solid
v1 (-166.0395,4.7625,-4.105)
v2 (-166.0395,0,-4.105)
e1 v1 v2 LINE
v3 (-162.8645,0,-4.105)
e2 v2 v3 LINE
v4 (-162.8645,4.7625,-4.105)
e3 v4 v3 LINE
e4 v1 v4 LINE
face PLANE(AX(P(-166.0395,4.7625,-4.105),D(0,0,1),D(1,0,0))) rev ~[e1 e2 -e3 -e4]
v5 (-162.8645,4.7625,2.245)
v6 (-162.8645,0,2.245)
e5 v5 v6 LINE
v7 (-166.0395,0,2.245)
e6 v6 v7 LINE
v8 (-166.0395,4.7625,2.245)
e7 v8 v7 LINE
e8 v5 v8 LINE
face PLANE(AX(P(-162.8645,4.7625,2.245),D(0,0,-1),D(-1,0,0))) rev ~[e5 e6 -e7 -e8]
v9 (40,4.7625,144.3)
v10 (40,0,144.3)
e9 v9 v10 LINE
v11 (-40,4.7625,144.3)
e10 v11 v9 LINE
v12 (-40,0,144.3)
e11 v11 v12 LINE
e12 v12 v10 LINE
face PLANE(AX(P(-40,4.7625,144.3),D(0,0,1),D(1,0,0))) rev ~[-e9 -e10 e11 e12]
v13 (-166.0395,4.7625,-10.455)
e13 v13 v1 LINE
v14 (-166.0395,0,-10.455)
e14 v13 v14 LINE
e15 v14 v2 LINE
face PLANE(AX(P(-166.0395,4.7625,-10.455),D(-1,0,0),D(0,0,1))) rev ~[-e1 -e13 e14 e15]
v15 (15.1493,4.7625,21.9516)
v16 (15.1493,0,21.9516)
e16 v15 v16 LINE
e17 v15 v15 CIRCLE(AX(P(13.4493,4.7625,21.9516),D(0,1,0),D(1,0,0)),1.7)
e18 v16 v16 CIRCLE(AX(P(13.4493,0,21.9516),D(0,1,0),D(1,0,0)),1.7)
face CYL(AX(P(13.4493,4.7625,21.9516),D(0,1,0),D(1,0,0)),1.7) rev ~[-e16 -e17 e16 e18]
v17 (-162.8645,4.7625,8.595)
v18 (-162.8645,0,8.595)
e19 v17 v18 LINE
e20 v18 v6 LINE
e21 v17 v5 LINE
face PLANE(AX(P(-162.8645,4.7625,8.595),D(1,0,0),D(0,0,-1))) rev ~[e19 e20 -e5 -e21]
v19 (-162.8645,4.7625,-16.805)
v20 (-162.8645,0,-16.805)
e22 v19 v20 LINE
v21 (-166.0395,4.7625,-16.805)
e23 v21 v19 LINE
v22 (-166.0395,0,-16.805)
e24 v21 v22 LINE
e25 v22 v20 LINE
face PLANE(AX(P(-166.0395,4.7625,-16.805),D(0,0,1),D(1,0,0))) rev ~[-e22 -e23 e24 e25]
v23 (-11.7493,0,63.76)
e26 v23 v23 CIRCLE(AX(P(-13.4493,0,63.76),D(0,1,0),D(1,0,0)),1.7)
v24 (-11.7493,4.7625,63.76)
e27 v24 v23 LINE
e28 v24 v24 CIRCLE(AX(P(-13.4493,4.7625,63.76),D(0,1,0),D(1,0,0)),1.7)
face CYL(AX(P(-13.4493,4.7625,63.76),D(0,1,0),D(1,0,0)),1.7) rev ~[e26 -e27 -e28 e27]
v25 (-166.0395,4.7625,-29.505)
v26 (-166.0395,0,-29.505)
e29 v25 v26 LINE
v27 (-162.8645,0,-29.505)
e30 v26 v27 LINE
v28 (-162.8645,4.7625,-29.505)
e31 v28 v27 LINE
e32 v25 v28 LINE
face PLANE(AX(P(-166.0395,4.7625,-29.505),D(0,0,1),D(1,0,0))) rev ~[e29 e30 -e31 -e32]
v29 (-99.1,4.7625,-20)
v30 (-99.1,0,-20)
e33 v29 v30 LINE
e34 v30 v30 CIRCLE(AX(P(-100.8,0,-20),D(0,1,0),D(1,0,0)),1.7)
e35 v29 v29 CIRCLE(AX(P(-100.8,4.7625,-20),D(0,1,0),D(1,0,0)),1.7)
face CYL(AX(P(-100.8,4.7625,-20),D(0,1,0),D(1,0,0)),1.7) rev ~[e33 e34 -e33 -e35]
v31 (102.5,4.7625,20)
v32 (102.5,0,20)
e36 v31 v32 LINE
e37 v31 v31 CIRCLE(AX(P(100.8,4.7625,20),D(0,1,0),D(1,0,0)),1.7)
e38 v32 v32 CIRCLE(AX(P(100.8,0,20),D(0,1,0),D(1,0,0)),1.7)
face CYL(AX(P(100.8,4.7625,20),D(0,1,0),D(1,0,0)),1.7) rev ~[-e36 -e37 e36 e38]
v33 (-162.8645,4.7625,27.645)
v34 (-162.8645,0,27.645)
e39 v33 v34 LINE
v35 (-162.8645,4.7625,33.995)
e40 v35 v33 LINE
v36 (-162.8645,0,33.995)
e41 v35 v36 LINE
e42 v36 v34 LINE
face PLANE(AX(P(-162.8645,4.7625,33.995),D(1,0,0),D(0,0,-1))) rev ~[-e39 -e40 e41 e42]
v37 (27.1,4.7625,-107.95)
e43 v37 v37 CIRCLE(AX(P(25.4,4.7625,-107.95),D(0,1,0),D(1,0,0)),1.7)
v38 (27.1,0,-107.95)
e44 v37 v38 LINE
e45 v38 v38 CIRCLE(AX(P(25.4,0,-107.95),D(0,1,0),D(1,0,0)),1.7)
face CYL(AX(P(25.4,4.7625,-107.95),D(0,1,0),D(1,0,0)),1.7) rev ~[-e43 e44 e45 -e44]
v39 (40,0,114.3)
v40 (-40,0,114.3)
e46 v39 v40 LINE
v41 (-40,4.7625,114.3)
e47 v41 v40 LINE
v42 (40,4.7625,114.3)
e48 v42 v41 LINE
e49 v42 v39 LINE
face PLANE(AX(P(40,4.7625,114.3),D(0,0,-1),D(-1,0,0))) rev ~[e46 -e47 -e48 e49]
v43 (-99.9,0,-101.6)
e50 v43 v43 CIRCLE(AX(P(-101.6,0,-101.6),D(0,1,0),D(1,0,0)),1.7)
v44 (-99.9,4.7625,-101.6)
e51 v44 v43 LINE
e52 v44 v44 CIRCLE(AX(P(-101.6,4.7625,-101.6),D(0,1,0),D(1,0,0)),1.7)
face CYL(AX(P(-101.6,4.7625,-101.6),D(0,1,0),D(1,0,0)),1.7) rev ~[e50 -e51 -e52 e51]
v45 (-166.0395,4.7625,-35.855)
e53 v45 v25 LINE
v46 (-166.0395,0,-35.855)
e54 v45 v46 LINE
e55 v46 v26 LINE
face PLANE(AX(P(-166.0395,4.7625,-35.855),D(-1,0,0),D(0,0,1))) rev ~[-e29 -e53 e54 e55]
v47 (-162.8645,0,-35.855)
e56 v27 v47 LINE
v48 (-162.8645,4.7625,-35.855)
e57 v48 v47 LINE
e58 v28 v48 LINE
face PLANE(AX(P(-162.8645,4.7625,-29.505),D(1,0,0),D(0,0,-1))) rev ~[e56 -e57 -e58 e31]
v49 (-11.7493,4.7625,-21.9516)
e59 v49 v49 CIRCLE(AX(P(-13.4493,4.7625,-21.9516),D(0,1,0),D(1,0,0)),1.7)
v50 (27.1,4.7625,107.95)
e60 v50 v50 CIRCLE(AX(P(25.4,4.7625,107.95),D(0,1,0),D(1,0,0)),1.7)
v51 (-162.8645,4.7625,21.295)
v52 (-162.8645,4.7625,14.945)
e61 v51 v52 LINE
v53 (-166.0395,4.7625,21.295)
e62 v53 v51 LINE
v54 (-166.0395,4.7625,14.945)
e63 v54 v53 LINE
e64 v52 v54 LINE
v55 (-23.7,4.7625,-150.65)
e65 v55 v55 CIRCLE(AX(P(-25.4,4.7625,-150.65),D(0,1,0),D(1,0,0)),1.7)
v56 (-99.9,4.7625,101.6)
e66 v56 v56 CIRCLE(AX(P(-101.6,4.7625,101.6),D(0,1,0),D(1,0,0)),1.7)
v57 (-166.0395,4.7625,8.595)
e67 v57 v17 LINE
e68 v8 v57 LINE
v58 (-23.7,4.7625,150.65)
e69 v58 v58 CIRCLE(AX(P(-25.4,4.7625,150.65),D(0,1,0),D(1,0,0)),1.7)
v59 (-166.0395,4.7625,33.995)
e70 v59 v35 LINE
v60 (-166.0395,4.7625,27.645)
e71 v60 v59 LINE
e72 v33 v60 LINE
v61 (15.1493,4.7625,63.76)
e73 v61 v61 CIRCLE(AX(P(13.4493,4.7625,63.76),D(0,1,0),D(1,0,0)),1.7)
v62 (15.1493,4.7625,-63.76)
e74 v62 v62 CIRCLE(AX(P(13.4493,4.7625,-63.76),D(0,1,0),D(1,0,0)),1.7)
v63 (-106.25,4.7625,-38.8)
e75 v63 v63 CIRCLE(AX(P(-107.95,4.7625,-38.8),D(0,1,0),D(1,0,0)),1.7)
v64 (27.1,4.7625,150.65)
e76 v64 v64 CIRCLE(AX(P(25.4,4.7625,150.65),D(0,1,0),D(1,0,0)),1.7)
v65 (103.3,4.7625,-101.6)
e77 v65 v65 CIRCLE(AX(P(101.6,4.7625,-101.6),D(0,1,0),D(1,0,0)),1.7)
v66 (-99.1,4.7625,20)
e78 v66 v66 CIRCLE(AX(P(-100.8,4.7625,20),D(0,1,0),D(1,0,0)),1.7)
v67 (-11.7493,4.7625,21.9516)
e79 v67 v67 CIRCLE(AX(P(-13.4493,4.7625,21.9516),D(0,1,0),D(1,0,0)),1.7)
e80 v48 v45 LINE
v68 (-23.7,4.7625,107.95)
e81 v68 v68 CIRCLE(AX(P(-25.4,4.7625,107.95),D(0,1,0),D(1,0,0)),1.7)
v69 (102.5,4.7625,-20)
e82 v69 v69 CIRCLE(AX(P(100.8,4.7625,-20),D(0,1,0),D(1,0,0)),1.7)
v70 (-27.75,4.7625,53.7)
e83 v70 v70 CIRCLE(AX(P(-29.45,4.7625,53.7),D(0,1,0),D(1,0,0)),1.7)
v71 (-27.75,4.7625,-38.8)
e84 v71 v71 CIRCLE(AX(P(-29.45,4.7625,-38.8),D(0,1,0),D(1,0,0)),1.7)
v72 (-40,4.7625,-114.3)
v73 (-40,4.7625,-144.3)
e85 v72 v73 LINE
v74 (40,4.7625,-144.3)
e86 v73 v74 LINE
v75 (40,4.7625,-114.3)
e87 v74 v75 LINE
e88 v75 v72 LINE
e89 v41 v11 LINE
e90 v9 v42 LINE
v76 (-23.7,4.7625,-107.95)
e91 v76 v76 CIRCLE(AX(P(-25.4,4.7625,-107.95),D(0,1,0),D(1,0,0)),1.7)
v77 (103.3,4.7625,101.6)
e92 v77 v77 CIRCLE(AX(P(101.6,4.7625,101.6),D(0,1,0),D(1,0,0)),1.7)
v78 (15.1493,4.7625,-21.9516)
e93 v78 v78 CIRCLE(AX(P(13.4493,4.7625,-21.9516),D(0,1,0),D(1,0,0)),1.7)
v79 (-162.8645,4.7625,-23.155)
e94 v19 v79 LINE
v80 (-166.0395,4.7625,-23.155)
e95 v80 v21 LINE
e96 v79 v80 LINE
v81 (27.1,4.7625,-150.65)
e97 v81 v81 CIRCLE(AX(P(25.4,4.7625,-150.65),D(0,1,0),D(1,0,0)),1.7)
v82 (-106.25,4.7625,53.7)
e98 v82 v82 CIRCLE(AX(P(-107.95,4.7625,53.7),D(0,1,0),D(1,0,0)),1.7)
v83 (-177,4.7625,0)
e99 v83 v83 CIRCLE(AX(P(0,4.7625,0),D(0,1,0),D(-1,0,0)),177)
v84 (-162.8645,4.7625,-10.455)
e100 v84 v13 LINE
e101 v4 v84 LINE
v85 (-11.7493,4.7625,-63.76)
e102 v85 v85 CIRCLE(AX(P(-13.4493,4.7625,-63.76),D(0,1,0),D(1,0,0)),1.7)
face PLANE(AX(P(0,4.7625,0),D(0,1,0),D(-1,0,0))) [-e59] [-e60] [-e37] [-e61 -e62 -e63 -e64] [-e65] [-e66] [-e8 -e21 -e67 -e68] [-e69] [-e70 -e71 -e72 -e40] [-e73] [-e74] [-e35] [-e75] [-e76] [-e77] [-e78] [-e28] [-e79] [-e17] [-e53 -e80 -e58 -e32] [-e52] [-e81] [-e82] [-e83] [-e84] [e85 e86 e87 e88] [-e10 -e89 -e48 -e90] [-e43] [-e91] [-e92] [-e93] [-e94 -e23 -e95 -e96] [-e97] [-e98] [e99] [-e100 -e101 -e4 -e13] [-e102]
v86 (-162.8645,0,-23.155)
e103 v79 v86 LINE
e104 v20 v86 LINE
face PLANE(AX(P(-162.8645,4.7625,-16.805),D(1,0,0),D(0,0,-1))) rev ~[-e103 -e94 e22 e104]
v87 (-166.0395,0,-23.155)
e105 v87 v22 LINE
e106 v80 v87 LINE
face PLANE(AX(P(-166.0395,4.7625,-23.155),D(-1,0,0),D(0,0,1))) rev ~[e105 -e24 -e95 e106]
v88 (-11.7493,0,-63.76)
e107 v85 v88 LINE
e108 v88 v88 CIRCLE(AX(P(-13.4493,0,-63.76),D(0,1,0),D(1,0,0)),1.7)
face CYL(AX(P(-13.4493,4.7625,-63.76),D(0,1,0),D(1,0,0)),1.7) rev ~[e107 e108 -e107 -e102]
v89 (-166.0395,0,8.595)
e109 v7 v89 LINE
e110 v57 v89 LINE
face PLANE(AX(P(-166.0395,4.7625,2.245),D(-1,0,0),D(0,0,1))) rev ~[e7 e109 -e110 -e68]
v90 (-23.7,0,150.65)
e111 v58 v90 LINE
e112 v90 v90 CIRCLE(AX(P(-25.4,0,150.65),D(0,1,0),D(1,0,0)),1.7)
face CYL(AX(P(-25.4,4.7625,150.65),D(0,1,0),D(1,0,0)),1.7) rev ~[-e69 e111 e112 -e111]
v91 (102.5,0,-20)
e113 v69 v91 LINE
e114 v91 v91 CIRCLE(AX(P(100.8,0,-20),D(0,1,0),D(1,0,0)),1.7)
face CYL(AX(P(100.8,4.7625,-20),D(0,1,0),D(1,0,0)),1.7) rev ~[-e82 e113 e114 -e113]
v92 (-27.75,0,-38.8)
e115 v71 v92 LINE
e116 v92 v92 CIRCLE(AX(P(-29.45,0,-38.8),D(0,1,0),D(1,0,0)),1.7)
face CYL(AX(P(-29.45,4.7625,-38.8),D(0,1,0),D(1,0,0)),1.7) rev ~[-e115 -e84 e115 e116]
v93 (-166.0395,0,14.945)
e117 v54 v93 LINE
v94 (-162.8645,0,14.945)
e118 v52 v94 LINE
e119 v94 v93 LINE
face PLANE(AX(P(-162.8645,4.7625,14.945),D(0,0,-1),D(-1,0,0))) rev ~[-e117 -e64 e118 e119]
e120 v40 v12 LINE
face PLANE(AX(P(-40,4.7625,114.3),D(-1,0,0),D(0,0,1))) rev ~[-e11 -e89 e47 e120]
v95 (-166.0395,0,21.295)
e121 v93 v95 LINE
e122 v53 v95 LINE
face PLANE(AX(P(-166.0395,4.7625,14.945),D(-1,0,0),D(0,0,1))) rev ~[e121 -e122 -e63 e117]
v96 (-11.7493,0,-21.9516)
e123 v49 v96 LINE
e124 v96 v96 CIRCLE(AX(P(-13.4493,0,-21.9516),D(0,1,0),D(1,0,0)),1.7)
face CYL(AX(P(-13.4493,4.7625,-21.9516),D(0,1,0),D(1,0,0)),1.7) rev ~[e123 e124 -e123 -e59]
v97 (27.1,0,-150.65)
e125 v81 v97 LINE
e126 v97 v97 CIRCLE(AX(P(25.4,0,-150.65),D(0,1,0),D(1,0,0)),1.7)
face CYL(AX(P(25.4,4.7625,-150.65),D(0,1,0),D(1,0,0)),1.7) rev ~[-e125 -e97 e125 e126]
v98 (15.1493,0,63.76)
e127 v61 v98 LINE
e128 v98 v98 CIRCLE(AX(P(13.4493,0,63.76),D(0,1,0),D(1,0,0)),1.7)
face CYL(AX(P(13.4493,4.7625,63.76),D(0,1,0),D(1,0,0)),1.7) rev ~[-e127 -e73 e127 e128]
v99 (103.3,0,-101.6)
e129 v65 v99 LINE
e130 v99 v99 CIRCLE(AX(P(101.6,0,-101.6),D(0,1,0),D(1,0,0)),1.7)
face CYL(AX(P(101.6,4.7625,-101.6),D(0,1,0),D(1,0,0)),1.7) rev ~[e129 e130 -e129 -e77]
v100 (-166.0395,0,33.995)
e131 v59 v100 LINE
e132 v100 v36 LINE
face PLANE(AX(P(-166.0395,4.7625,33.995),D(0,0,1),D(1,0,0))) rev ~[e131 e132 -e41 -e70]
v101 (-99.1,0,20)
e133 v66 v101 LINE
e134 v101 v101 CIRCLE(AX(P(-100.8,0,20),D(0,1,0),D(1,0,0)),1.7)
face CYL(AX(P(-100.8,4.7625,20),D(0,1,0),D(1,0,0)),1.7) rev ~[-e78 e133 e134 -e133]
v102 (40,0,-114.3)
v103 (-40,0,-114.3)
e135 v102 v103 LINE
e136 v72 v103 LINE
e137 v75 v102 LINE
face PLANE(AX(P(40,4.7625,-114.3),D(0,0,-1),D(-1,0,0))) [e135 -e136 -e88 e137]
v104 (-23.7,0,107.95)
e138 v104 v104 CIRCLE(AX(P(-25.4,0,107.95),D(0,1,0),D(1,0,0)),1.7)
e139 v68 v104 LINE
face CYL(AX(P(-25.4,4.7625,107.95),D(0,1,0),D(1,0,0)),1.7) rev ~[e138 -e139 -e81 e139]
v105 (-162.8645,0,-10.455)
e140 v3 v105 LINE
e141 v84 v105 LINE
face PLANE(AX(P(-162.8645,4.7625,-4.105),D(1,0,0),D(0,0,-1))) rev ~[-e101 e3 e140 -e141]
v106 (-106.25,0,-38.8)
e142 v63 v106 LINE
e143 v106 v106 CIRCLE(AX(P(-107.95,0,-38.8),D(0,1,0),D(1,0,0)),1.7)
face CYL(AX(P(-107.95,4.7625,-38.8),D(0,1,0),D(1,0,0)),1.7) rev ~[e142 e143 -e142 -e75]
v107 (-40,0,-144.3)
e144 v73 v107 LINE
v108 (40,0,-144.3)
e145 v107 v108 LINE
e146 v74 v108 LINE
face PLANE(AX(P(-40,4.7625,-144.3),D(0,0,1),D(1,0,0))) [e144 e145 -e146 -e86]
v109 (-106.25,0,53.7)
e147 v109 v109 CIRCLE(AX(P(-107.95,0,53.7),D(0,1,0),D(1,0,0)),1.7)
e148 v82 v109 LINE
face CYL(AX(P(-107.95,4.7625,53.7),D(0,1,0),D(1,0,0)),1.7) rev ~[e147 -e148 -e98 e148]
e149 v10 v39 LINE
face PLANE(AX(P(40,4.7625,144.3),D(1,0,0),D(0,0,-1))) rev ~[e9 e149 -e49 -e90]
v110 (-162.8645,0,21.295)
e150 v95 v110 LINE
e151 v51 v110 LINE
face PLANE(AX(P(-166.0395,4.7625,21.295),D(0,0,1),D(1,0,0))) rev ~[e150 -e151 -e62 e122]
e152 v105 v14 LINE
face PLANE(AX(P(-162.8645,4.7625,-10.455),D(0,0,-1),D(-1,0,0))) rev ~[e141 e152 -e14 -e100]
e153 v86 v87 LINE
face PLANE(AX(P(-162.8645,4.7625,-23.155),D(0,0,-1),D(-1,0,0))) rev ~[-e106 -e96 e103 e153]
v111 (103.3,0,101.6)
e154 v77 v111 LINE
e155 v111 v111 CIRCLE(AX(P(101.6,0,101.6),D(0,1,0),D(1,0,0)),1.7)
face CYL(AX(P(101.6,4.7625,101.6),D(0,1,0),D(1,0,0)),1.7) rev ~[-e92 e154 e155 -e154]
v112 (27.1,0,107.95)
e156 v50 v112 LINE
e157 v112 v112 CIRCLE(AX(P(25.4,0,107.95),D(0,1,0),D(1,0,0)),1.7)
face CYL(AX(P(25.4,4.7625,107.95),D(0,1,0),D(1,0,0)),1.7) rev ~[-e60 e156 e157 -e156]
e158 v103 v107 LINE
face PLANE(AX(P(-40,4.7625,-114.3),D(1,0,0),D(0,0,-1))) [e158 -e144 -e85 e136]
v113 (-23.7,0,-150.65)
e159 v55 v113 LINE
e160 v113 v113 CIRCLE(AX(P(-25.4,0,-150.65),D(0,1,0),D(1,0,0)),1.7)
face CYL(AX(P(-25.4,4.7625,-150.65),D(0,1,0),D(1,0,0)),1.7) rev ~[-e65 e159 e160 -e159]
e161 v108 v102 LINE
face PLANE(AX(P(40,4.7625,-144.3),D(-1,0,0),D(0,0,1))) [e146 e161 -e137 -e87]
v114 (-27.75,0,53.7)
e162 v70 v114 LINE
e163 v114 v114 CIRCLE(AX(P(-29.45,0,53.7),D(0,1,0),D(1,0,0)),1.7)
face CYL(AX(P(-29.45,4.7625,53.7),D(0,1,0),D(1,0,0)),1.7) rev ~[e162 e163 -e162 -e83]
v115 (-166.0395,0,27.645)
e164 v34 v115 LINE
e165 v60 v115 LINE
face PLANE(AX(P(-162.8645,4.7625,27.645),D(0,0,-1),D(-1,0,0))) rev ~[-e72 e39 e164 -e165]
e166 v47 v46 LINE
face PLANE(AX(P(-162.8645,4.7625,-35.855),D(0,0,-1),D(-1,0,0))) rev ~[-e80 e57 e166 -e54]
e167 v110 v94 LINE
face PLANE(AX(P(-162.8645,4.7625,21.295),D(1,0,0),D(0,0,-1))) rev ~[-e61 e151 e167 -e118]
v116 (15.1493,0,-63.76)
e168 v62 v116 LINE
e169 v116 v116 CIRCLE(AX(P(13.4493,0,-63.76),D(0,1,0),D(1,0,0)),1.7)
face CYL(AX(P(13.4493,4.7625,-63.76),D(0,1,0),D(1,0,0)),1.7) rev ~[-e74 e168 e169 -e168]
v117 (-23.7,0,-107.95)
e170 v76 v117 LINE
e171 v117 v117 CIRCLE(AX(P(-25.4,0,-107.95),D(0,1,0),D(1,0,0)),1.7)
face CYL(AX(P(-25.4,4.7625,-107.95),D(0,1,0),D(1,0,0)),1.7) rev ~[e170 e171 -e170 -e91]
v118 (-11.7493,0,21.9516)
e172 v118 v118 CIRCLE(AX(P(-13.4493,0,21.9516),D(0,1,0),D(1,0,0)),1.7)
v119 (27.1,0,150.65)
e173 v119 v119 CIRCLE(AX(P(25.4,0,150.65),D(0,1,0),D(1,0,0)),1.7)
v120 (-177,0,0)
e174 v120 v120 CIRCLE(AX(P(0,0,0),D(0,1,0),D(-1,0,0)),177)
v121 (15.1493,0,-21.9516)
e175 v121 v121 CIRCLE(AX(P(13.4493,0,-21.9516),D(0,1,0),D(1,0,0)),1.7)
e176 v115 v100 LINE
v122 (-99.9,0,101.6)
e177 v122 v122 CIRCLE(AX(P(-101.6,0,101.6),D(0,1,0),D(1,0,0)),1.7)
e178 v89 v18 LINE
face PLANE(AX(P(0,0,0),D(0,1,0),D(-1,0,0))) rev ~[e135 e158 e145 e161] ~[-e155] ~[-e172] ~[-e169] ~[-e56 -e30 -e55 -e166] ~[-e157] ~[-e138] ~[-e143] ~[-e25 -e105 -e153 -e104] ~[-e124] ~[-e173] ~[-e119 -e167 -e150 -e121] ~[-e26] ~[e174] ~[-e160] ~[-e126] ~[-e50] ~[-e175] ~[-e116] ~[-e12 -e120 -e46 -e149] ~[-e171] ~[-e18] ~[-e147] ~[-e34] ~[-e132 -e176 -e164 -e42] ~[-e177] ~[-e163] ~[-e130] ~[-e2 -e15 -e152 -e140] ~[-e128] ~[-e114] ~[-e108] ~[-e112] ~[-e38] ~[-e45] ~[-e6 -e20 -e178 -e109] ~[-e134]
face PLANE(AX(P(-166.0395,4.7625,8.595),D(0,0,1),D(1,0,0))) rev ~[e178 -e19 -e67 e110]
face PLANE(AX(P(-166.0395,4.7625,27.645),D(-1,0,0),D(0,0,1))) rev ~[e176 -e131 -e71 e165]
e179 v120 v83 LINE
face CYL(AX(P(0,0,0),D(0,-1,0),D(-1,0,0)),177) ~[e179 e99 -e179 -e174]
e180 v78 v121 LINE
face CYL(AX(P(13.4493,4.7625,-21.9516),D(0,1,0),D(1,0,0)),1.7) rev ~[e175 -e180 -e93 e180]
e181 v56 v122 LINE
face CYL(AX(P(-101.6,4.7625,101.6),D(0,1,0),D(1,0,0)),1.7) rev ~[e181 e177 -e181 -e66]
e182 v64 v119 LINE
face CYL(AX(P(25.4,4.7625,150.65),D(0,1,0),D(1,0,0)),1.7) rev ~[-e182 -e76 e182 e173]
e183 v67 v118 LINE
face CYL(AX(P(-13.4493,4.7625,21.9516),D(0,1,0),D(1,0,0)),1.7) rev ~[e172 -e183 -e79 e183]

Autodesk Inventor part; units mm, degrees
ref_plane "YZ Plane" through (0, 0, 0) normal (1, 0, 0) x (0, 1, 0)
ref_plane "XZ Plane" through (0, 0, 0) normal (0, 1, 0) x (-1, 0, 0)
ref_plane "XY Plane" through (0, 0, 0) normal (0, 0, 1) x (1, 0, 0)
sketch "Sketch1" plane through (0, 0, 0) normal (0, 1, 0) x (-1, 0, 0)
  circle A0 centre (0, 0) radius 177
  dimension "d0" = 354
extrude "Extrusion1" add sketch "Sketch1" along normal blind 4.7625
sketch "Sketch2" plane through (0, 4.7625, 0) normal (0, 1, 0) x (1, 0, 0)
  circle A0 centre (101.6, -101.6) radius 1.7
  circle A1 centre (101.6, 101.6) radius 1.7
  circle A2 centre (-101.6, 101.6) radius 1.7
  circle A3 centre (-101.6, -101.6) radius 1.7
  circle A4 centre (0, 0) radius 177 projected
  dimension "d3" = 3.4
  dimension "d4" = 3.4
  dimension "d5" = 3.4
  dimension "d6" = 3.4
  dimension "d14" = 101.6
  dimension "d15" = 101.6
  dimension "d16" = 101.6
  dimension "d17" = 101.6
  dimension "d18" = 101.6
  dimension "d19" = 101.6
  dimension "d20" = 101.6
  dimension "d21" = 101.6
extrude "Standoff Holes" cut sketch "Sketch2" against normal through all contours A0 | A1 | A2 | A3
sketch "Sketch3" plane through (0, 4.7625, 0) normal (0, 1, 0) x (1, 0, 0)
  line L0 (-40, -144.3) -> (40, -144.3)
  line L1 (40, -144.3) -> (40, -114.3)
  line L2 (40, -114.3) -> (-40, -114.3)
  line L3 (-40, -114.3) -> (-40, -144.3)
  circle A0 centre (-25.4, -107.95) radius 1.7
  circle A1 centre (25.4, -107.95) radius 1.7
  circle A2 centre (25.4, -150.65) radius 1.7
  circle A3 centre (-25.4, -150.65) radius 1.7
  circle A4 centre (0, 0) radius 177 projected
  line L4 (-177, 0) -> (177, 0)
  line L5 (-40, 144.3) -> (40, 144.3)
  line L6 (40, 144.3) -> (40, 114.3)
  line L7 (40, 114.3) -> (-40, 114.3)
  line L8 (-40, 114.3) -> (-40, 144.3)
  circle A5 centre (-25.4, 107.95) radius 1.7
  circle A6 centre (25.4, 107.95) radius 1.7
  circle A7 centre (25.4, 150.65) radius 1.7
  circle A8 centre (-25.4, 150.65) radius 1.7
  point P0 (0, -114.3)
  point P1 (0, 114.3)
  dimension "d25" = 80
  dimension "d26" = 30
  dimension "d28" = 114.3
  dimension "d30" = 40
  dimension "d32" = 3.4
  dimension "d33" = 3.4
  dimension "d34" = 3.4
  dimension "d35" = 3.4
  dimension "d36" = 6.35
  dimension "d37" = 6.35
  dimension "d38" = 6.35
  dimension "d39" = 6.35
  dimension "d40" = 25.4
  dimension "d41" = 25.4
  dimension "d42" = 25.4
  dimension "d43" = 25.4
  dimension "d44" = 228.6
extrude "Wheels" cut sketch "Sketch3" against normal blind 25.4 contours L3 L2 L1 L0 | A0 | A1 | A2 | A3 | L5 L6 L7 L8 | A5 | A6 | A7 | A8
sketch "Sketch4" plane through (0, 4.7625, 0) normal (0, 1, 0) x (1, 0, 0)
  circle A0 centre (13.4493, -63.76) radius 1.7
  circle A1 centre (13.4493, -21.9516) radius 1.7
  circle A2 centre (-13.4493, -63.76) radius 1.7
  circle A3 centre (-13.4493, -21.9516) radius 1.7
  line L0 (-40, -114.3) -> (40, -114.3) projected
  circle A4 centre (0, 0) radius 177 projected
  line L1 (-177, 0) -> (177, 0) construction
  circle A5 centre (13.4493, 63.76) radius 1.7
  circle A6 centre (13.4493, 21.9516) radius 1.7
  circle A7 centre (-13.4493, 63.76) radius 1.7
  circle A8 centre (-13.4493, 21.9516) radius 1.7
  dimension "d47" = 3.4
  dimension "d48" = 3.4
  dimension "d49" = 3.4
  dimension "d50" = 3.4
  dimension "d51" = 26.8986
  dimension "d52" = 26.8986
  dimension "d53" = 41.8084
  dimension "d54" = 41.8084
  dimension "d55" = 13.4493
  dimension "d56" = 13.4493
  dimension "d57" = 50.54
  dimension "d84" = 13.4493
extrude "Motor Mount" cut sketch "Sketch4" against normal through all contours A0 | A1 | A2 | A3 | A5 | A6 | A7 | A8
sketch "Sketch5" plane through (0, 4.7625, 0) normal (0, 1, 0) x (1, 0, 0)
  circle A0 centre (-107.95, -53.7) radius 1.7
  circle A1 centre (-107.95, 38.8) radius 1.7
  circle A2 centre (-29.45, 38.8) radius 1.7
  circle A3 centre (-29.45, -53.7) radius 1.7
  point P0 (0, 0)
  dimension "d61" = 3.4
  dimension "d62" = 3.4
  dimension "d63" = 3.4
  dimension "d64" = 3.4
  dimension "d65" = 92.5
  dimension "d66" = 92.5
  dimension "d67" = 78.5
  dimension "d68" = 78.5
  dimension "d69" = 38.8
  dimension "d70" = 38.8
  dimension "d72" = 53.7
  dimension "d73" = 107.95
extrude "PCB" cut sketch "Sketch5" against normal blind 25.4
sketch "Sketch6" plane through (0, 4.7625, 0) normal (0, 1, 0) x (1, 0, 0)
  circle A0 centre (100.8, -20) radius 1.7
  circle A1 centre (100.8, 20) radius 1.7
  circle A2 centre (0, 0) radius 177 projected
  line L0 (177, 0) -> (177, 59.2823) construction
  line L1 (0, -177) -> (0, 177) construction
  circle A3 centre (-100.8, -20) radius 1.7
  circle A4 centre (-100.8, 20) radius 1.7
  dimension "d76" = 3.4
  dimension "d77" = 3.4
  dimension "d78" = 40
  dimension "d80" = 20
  dimension "d81" = 76.2
  dimension "d98" = 100.8
extrude "Caster" cut sketch "Sketch6" against normal blind 25.4 contours A0 | A1 | A3 | A4
sketch "Sketch7" plane through (0, 4.7625, 0) normal (0, 1, 0) x (1, 0, 0)
  line L0 (-166.0395, -33.995) -> (-162.8645, -33.995)
  line L1 (-162.8645, -33.995) -> (-162.8645, -27.645)
  line L2 (-162.8645, -27.645) -> (-166.0395, -27.645)
  line L3 (-166.0395, -27.645) -> (-166.0395, -33.995)
  line L4 (-162.8645, -21.295) -> (-162.8645, -14.945)
  line L5 (-162.8645, -14.945) -> (-166.0395, -14.945)
  line L6 (-166.0395, -14.945) -> (-166.0395, -21.295)
  line L7 (-166.0395, -21.295) -> (-162.8645, -21.295)
  line L8 (-162.8645, -8.595) -> (-162.8645, -2.245)
  line L9 (-162.8645, -2.245) -> (-166.0395, -2.245)
  line L10 (-166.0395, -2.245) -> (-166.0395, -8.595)
  line L11 (-166.0395, -8.595) -> (-162.8645, -8.595)
  line L12 (-162.8645, 4.105) -> (-162.8645, 10.455)
  line L13 (-162.8645, 10.455) -> (-166.0395, 10.455)
  line L14 (-166.0395, 10.455) -> (-166.0395, 4.105)
  line L15 (-166.0395, 4.105) -> (-162.8645, 4.105)
  line L16 (-162.8645, 16.805) -> (-162.8645, 23.155)
  line L17 (-162.8645, 23.155) -> (-166.0395, 23.155)
  line L18 (-166.0395, 23.155) -> (-166.0395, 16.805)
  line L19 (-166.0395, 16.805) -> (-162.8645, 16.805)
  line L20 (-162.8645, 29.505) -> (-162.8645, 35.855)
  line L21 (-162.8645, 35.855) -> (-166.0395, 35.855)
  line L22 (-166.0395, 35.855) -> (-166.0395, 29.505)
  line L23 (-166.0395, 29.505) -> (-162.8645, 29.505)
  point P0 (0, 0)
  dimension "d85" = 6.35
  dimension "d86" = 3.175
  dimension "d89" = 12.7
  dimension "d94" = 162.8645
  dimension "d95" = 33.995
extrude "Switch" cut sketch "Sketch7" against normal through all
equation "\"d30\" = 0.5 * d25"
equation "\"d52\" = d51"
equation "\"d54\" = d53"
equation "\"d55\" = 0.5 * d51"
equation "\"d56\" = d55"
equation "\"d62\" = d61"
equation "\"d63\" = d61"
equation "\"d64\" = d61"
equation "\"d66\" = d65"
equation "\"d68\" = d67"
equation "\"d70\" = d69"
equation "\"d72\" = d65 - d69"
equation "\"d80\" = 0.5 * d78"
properties part number "layer1_narrow"
